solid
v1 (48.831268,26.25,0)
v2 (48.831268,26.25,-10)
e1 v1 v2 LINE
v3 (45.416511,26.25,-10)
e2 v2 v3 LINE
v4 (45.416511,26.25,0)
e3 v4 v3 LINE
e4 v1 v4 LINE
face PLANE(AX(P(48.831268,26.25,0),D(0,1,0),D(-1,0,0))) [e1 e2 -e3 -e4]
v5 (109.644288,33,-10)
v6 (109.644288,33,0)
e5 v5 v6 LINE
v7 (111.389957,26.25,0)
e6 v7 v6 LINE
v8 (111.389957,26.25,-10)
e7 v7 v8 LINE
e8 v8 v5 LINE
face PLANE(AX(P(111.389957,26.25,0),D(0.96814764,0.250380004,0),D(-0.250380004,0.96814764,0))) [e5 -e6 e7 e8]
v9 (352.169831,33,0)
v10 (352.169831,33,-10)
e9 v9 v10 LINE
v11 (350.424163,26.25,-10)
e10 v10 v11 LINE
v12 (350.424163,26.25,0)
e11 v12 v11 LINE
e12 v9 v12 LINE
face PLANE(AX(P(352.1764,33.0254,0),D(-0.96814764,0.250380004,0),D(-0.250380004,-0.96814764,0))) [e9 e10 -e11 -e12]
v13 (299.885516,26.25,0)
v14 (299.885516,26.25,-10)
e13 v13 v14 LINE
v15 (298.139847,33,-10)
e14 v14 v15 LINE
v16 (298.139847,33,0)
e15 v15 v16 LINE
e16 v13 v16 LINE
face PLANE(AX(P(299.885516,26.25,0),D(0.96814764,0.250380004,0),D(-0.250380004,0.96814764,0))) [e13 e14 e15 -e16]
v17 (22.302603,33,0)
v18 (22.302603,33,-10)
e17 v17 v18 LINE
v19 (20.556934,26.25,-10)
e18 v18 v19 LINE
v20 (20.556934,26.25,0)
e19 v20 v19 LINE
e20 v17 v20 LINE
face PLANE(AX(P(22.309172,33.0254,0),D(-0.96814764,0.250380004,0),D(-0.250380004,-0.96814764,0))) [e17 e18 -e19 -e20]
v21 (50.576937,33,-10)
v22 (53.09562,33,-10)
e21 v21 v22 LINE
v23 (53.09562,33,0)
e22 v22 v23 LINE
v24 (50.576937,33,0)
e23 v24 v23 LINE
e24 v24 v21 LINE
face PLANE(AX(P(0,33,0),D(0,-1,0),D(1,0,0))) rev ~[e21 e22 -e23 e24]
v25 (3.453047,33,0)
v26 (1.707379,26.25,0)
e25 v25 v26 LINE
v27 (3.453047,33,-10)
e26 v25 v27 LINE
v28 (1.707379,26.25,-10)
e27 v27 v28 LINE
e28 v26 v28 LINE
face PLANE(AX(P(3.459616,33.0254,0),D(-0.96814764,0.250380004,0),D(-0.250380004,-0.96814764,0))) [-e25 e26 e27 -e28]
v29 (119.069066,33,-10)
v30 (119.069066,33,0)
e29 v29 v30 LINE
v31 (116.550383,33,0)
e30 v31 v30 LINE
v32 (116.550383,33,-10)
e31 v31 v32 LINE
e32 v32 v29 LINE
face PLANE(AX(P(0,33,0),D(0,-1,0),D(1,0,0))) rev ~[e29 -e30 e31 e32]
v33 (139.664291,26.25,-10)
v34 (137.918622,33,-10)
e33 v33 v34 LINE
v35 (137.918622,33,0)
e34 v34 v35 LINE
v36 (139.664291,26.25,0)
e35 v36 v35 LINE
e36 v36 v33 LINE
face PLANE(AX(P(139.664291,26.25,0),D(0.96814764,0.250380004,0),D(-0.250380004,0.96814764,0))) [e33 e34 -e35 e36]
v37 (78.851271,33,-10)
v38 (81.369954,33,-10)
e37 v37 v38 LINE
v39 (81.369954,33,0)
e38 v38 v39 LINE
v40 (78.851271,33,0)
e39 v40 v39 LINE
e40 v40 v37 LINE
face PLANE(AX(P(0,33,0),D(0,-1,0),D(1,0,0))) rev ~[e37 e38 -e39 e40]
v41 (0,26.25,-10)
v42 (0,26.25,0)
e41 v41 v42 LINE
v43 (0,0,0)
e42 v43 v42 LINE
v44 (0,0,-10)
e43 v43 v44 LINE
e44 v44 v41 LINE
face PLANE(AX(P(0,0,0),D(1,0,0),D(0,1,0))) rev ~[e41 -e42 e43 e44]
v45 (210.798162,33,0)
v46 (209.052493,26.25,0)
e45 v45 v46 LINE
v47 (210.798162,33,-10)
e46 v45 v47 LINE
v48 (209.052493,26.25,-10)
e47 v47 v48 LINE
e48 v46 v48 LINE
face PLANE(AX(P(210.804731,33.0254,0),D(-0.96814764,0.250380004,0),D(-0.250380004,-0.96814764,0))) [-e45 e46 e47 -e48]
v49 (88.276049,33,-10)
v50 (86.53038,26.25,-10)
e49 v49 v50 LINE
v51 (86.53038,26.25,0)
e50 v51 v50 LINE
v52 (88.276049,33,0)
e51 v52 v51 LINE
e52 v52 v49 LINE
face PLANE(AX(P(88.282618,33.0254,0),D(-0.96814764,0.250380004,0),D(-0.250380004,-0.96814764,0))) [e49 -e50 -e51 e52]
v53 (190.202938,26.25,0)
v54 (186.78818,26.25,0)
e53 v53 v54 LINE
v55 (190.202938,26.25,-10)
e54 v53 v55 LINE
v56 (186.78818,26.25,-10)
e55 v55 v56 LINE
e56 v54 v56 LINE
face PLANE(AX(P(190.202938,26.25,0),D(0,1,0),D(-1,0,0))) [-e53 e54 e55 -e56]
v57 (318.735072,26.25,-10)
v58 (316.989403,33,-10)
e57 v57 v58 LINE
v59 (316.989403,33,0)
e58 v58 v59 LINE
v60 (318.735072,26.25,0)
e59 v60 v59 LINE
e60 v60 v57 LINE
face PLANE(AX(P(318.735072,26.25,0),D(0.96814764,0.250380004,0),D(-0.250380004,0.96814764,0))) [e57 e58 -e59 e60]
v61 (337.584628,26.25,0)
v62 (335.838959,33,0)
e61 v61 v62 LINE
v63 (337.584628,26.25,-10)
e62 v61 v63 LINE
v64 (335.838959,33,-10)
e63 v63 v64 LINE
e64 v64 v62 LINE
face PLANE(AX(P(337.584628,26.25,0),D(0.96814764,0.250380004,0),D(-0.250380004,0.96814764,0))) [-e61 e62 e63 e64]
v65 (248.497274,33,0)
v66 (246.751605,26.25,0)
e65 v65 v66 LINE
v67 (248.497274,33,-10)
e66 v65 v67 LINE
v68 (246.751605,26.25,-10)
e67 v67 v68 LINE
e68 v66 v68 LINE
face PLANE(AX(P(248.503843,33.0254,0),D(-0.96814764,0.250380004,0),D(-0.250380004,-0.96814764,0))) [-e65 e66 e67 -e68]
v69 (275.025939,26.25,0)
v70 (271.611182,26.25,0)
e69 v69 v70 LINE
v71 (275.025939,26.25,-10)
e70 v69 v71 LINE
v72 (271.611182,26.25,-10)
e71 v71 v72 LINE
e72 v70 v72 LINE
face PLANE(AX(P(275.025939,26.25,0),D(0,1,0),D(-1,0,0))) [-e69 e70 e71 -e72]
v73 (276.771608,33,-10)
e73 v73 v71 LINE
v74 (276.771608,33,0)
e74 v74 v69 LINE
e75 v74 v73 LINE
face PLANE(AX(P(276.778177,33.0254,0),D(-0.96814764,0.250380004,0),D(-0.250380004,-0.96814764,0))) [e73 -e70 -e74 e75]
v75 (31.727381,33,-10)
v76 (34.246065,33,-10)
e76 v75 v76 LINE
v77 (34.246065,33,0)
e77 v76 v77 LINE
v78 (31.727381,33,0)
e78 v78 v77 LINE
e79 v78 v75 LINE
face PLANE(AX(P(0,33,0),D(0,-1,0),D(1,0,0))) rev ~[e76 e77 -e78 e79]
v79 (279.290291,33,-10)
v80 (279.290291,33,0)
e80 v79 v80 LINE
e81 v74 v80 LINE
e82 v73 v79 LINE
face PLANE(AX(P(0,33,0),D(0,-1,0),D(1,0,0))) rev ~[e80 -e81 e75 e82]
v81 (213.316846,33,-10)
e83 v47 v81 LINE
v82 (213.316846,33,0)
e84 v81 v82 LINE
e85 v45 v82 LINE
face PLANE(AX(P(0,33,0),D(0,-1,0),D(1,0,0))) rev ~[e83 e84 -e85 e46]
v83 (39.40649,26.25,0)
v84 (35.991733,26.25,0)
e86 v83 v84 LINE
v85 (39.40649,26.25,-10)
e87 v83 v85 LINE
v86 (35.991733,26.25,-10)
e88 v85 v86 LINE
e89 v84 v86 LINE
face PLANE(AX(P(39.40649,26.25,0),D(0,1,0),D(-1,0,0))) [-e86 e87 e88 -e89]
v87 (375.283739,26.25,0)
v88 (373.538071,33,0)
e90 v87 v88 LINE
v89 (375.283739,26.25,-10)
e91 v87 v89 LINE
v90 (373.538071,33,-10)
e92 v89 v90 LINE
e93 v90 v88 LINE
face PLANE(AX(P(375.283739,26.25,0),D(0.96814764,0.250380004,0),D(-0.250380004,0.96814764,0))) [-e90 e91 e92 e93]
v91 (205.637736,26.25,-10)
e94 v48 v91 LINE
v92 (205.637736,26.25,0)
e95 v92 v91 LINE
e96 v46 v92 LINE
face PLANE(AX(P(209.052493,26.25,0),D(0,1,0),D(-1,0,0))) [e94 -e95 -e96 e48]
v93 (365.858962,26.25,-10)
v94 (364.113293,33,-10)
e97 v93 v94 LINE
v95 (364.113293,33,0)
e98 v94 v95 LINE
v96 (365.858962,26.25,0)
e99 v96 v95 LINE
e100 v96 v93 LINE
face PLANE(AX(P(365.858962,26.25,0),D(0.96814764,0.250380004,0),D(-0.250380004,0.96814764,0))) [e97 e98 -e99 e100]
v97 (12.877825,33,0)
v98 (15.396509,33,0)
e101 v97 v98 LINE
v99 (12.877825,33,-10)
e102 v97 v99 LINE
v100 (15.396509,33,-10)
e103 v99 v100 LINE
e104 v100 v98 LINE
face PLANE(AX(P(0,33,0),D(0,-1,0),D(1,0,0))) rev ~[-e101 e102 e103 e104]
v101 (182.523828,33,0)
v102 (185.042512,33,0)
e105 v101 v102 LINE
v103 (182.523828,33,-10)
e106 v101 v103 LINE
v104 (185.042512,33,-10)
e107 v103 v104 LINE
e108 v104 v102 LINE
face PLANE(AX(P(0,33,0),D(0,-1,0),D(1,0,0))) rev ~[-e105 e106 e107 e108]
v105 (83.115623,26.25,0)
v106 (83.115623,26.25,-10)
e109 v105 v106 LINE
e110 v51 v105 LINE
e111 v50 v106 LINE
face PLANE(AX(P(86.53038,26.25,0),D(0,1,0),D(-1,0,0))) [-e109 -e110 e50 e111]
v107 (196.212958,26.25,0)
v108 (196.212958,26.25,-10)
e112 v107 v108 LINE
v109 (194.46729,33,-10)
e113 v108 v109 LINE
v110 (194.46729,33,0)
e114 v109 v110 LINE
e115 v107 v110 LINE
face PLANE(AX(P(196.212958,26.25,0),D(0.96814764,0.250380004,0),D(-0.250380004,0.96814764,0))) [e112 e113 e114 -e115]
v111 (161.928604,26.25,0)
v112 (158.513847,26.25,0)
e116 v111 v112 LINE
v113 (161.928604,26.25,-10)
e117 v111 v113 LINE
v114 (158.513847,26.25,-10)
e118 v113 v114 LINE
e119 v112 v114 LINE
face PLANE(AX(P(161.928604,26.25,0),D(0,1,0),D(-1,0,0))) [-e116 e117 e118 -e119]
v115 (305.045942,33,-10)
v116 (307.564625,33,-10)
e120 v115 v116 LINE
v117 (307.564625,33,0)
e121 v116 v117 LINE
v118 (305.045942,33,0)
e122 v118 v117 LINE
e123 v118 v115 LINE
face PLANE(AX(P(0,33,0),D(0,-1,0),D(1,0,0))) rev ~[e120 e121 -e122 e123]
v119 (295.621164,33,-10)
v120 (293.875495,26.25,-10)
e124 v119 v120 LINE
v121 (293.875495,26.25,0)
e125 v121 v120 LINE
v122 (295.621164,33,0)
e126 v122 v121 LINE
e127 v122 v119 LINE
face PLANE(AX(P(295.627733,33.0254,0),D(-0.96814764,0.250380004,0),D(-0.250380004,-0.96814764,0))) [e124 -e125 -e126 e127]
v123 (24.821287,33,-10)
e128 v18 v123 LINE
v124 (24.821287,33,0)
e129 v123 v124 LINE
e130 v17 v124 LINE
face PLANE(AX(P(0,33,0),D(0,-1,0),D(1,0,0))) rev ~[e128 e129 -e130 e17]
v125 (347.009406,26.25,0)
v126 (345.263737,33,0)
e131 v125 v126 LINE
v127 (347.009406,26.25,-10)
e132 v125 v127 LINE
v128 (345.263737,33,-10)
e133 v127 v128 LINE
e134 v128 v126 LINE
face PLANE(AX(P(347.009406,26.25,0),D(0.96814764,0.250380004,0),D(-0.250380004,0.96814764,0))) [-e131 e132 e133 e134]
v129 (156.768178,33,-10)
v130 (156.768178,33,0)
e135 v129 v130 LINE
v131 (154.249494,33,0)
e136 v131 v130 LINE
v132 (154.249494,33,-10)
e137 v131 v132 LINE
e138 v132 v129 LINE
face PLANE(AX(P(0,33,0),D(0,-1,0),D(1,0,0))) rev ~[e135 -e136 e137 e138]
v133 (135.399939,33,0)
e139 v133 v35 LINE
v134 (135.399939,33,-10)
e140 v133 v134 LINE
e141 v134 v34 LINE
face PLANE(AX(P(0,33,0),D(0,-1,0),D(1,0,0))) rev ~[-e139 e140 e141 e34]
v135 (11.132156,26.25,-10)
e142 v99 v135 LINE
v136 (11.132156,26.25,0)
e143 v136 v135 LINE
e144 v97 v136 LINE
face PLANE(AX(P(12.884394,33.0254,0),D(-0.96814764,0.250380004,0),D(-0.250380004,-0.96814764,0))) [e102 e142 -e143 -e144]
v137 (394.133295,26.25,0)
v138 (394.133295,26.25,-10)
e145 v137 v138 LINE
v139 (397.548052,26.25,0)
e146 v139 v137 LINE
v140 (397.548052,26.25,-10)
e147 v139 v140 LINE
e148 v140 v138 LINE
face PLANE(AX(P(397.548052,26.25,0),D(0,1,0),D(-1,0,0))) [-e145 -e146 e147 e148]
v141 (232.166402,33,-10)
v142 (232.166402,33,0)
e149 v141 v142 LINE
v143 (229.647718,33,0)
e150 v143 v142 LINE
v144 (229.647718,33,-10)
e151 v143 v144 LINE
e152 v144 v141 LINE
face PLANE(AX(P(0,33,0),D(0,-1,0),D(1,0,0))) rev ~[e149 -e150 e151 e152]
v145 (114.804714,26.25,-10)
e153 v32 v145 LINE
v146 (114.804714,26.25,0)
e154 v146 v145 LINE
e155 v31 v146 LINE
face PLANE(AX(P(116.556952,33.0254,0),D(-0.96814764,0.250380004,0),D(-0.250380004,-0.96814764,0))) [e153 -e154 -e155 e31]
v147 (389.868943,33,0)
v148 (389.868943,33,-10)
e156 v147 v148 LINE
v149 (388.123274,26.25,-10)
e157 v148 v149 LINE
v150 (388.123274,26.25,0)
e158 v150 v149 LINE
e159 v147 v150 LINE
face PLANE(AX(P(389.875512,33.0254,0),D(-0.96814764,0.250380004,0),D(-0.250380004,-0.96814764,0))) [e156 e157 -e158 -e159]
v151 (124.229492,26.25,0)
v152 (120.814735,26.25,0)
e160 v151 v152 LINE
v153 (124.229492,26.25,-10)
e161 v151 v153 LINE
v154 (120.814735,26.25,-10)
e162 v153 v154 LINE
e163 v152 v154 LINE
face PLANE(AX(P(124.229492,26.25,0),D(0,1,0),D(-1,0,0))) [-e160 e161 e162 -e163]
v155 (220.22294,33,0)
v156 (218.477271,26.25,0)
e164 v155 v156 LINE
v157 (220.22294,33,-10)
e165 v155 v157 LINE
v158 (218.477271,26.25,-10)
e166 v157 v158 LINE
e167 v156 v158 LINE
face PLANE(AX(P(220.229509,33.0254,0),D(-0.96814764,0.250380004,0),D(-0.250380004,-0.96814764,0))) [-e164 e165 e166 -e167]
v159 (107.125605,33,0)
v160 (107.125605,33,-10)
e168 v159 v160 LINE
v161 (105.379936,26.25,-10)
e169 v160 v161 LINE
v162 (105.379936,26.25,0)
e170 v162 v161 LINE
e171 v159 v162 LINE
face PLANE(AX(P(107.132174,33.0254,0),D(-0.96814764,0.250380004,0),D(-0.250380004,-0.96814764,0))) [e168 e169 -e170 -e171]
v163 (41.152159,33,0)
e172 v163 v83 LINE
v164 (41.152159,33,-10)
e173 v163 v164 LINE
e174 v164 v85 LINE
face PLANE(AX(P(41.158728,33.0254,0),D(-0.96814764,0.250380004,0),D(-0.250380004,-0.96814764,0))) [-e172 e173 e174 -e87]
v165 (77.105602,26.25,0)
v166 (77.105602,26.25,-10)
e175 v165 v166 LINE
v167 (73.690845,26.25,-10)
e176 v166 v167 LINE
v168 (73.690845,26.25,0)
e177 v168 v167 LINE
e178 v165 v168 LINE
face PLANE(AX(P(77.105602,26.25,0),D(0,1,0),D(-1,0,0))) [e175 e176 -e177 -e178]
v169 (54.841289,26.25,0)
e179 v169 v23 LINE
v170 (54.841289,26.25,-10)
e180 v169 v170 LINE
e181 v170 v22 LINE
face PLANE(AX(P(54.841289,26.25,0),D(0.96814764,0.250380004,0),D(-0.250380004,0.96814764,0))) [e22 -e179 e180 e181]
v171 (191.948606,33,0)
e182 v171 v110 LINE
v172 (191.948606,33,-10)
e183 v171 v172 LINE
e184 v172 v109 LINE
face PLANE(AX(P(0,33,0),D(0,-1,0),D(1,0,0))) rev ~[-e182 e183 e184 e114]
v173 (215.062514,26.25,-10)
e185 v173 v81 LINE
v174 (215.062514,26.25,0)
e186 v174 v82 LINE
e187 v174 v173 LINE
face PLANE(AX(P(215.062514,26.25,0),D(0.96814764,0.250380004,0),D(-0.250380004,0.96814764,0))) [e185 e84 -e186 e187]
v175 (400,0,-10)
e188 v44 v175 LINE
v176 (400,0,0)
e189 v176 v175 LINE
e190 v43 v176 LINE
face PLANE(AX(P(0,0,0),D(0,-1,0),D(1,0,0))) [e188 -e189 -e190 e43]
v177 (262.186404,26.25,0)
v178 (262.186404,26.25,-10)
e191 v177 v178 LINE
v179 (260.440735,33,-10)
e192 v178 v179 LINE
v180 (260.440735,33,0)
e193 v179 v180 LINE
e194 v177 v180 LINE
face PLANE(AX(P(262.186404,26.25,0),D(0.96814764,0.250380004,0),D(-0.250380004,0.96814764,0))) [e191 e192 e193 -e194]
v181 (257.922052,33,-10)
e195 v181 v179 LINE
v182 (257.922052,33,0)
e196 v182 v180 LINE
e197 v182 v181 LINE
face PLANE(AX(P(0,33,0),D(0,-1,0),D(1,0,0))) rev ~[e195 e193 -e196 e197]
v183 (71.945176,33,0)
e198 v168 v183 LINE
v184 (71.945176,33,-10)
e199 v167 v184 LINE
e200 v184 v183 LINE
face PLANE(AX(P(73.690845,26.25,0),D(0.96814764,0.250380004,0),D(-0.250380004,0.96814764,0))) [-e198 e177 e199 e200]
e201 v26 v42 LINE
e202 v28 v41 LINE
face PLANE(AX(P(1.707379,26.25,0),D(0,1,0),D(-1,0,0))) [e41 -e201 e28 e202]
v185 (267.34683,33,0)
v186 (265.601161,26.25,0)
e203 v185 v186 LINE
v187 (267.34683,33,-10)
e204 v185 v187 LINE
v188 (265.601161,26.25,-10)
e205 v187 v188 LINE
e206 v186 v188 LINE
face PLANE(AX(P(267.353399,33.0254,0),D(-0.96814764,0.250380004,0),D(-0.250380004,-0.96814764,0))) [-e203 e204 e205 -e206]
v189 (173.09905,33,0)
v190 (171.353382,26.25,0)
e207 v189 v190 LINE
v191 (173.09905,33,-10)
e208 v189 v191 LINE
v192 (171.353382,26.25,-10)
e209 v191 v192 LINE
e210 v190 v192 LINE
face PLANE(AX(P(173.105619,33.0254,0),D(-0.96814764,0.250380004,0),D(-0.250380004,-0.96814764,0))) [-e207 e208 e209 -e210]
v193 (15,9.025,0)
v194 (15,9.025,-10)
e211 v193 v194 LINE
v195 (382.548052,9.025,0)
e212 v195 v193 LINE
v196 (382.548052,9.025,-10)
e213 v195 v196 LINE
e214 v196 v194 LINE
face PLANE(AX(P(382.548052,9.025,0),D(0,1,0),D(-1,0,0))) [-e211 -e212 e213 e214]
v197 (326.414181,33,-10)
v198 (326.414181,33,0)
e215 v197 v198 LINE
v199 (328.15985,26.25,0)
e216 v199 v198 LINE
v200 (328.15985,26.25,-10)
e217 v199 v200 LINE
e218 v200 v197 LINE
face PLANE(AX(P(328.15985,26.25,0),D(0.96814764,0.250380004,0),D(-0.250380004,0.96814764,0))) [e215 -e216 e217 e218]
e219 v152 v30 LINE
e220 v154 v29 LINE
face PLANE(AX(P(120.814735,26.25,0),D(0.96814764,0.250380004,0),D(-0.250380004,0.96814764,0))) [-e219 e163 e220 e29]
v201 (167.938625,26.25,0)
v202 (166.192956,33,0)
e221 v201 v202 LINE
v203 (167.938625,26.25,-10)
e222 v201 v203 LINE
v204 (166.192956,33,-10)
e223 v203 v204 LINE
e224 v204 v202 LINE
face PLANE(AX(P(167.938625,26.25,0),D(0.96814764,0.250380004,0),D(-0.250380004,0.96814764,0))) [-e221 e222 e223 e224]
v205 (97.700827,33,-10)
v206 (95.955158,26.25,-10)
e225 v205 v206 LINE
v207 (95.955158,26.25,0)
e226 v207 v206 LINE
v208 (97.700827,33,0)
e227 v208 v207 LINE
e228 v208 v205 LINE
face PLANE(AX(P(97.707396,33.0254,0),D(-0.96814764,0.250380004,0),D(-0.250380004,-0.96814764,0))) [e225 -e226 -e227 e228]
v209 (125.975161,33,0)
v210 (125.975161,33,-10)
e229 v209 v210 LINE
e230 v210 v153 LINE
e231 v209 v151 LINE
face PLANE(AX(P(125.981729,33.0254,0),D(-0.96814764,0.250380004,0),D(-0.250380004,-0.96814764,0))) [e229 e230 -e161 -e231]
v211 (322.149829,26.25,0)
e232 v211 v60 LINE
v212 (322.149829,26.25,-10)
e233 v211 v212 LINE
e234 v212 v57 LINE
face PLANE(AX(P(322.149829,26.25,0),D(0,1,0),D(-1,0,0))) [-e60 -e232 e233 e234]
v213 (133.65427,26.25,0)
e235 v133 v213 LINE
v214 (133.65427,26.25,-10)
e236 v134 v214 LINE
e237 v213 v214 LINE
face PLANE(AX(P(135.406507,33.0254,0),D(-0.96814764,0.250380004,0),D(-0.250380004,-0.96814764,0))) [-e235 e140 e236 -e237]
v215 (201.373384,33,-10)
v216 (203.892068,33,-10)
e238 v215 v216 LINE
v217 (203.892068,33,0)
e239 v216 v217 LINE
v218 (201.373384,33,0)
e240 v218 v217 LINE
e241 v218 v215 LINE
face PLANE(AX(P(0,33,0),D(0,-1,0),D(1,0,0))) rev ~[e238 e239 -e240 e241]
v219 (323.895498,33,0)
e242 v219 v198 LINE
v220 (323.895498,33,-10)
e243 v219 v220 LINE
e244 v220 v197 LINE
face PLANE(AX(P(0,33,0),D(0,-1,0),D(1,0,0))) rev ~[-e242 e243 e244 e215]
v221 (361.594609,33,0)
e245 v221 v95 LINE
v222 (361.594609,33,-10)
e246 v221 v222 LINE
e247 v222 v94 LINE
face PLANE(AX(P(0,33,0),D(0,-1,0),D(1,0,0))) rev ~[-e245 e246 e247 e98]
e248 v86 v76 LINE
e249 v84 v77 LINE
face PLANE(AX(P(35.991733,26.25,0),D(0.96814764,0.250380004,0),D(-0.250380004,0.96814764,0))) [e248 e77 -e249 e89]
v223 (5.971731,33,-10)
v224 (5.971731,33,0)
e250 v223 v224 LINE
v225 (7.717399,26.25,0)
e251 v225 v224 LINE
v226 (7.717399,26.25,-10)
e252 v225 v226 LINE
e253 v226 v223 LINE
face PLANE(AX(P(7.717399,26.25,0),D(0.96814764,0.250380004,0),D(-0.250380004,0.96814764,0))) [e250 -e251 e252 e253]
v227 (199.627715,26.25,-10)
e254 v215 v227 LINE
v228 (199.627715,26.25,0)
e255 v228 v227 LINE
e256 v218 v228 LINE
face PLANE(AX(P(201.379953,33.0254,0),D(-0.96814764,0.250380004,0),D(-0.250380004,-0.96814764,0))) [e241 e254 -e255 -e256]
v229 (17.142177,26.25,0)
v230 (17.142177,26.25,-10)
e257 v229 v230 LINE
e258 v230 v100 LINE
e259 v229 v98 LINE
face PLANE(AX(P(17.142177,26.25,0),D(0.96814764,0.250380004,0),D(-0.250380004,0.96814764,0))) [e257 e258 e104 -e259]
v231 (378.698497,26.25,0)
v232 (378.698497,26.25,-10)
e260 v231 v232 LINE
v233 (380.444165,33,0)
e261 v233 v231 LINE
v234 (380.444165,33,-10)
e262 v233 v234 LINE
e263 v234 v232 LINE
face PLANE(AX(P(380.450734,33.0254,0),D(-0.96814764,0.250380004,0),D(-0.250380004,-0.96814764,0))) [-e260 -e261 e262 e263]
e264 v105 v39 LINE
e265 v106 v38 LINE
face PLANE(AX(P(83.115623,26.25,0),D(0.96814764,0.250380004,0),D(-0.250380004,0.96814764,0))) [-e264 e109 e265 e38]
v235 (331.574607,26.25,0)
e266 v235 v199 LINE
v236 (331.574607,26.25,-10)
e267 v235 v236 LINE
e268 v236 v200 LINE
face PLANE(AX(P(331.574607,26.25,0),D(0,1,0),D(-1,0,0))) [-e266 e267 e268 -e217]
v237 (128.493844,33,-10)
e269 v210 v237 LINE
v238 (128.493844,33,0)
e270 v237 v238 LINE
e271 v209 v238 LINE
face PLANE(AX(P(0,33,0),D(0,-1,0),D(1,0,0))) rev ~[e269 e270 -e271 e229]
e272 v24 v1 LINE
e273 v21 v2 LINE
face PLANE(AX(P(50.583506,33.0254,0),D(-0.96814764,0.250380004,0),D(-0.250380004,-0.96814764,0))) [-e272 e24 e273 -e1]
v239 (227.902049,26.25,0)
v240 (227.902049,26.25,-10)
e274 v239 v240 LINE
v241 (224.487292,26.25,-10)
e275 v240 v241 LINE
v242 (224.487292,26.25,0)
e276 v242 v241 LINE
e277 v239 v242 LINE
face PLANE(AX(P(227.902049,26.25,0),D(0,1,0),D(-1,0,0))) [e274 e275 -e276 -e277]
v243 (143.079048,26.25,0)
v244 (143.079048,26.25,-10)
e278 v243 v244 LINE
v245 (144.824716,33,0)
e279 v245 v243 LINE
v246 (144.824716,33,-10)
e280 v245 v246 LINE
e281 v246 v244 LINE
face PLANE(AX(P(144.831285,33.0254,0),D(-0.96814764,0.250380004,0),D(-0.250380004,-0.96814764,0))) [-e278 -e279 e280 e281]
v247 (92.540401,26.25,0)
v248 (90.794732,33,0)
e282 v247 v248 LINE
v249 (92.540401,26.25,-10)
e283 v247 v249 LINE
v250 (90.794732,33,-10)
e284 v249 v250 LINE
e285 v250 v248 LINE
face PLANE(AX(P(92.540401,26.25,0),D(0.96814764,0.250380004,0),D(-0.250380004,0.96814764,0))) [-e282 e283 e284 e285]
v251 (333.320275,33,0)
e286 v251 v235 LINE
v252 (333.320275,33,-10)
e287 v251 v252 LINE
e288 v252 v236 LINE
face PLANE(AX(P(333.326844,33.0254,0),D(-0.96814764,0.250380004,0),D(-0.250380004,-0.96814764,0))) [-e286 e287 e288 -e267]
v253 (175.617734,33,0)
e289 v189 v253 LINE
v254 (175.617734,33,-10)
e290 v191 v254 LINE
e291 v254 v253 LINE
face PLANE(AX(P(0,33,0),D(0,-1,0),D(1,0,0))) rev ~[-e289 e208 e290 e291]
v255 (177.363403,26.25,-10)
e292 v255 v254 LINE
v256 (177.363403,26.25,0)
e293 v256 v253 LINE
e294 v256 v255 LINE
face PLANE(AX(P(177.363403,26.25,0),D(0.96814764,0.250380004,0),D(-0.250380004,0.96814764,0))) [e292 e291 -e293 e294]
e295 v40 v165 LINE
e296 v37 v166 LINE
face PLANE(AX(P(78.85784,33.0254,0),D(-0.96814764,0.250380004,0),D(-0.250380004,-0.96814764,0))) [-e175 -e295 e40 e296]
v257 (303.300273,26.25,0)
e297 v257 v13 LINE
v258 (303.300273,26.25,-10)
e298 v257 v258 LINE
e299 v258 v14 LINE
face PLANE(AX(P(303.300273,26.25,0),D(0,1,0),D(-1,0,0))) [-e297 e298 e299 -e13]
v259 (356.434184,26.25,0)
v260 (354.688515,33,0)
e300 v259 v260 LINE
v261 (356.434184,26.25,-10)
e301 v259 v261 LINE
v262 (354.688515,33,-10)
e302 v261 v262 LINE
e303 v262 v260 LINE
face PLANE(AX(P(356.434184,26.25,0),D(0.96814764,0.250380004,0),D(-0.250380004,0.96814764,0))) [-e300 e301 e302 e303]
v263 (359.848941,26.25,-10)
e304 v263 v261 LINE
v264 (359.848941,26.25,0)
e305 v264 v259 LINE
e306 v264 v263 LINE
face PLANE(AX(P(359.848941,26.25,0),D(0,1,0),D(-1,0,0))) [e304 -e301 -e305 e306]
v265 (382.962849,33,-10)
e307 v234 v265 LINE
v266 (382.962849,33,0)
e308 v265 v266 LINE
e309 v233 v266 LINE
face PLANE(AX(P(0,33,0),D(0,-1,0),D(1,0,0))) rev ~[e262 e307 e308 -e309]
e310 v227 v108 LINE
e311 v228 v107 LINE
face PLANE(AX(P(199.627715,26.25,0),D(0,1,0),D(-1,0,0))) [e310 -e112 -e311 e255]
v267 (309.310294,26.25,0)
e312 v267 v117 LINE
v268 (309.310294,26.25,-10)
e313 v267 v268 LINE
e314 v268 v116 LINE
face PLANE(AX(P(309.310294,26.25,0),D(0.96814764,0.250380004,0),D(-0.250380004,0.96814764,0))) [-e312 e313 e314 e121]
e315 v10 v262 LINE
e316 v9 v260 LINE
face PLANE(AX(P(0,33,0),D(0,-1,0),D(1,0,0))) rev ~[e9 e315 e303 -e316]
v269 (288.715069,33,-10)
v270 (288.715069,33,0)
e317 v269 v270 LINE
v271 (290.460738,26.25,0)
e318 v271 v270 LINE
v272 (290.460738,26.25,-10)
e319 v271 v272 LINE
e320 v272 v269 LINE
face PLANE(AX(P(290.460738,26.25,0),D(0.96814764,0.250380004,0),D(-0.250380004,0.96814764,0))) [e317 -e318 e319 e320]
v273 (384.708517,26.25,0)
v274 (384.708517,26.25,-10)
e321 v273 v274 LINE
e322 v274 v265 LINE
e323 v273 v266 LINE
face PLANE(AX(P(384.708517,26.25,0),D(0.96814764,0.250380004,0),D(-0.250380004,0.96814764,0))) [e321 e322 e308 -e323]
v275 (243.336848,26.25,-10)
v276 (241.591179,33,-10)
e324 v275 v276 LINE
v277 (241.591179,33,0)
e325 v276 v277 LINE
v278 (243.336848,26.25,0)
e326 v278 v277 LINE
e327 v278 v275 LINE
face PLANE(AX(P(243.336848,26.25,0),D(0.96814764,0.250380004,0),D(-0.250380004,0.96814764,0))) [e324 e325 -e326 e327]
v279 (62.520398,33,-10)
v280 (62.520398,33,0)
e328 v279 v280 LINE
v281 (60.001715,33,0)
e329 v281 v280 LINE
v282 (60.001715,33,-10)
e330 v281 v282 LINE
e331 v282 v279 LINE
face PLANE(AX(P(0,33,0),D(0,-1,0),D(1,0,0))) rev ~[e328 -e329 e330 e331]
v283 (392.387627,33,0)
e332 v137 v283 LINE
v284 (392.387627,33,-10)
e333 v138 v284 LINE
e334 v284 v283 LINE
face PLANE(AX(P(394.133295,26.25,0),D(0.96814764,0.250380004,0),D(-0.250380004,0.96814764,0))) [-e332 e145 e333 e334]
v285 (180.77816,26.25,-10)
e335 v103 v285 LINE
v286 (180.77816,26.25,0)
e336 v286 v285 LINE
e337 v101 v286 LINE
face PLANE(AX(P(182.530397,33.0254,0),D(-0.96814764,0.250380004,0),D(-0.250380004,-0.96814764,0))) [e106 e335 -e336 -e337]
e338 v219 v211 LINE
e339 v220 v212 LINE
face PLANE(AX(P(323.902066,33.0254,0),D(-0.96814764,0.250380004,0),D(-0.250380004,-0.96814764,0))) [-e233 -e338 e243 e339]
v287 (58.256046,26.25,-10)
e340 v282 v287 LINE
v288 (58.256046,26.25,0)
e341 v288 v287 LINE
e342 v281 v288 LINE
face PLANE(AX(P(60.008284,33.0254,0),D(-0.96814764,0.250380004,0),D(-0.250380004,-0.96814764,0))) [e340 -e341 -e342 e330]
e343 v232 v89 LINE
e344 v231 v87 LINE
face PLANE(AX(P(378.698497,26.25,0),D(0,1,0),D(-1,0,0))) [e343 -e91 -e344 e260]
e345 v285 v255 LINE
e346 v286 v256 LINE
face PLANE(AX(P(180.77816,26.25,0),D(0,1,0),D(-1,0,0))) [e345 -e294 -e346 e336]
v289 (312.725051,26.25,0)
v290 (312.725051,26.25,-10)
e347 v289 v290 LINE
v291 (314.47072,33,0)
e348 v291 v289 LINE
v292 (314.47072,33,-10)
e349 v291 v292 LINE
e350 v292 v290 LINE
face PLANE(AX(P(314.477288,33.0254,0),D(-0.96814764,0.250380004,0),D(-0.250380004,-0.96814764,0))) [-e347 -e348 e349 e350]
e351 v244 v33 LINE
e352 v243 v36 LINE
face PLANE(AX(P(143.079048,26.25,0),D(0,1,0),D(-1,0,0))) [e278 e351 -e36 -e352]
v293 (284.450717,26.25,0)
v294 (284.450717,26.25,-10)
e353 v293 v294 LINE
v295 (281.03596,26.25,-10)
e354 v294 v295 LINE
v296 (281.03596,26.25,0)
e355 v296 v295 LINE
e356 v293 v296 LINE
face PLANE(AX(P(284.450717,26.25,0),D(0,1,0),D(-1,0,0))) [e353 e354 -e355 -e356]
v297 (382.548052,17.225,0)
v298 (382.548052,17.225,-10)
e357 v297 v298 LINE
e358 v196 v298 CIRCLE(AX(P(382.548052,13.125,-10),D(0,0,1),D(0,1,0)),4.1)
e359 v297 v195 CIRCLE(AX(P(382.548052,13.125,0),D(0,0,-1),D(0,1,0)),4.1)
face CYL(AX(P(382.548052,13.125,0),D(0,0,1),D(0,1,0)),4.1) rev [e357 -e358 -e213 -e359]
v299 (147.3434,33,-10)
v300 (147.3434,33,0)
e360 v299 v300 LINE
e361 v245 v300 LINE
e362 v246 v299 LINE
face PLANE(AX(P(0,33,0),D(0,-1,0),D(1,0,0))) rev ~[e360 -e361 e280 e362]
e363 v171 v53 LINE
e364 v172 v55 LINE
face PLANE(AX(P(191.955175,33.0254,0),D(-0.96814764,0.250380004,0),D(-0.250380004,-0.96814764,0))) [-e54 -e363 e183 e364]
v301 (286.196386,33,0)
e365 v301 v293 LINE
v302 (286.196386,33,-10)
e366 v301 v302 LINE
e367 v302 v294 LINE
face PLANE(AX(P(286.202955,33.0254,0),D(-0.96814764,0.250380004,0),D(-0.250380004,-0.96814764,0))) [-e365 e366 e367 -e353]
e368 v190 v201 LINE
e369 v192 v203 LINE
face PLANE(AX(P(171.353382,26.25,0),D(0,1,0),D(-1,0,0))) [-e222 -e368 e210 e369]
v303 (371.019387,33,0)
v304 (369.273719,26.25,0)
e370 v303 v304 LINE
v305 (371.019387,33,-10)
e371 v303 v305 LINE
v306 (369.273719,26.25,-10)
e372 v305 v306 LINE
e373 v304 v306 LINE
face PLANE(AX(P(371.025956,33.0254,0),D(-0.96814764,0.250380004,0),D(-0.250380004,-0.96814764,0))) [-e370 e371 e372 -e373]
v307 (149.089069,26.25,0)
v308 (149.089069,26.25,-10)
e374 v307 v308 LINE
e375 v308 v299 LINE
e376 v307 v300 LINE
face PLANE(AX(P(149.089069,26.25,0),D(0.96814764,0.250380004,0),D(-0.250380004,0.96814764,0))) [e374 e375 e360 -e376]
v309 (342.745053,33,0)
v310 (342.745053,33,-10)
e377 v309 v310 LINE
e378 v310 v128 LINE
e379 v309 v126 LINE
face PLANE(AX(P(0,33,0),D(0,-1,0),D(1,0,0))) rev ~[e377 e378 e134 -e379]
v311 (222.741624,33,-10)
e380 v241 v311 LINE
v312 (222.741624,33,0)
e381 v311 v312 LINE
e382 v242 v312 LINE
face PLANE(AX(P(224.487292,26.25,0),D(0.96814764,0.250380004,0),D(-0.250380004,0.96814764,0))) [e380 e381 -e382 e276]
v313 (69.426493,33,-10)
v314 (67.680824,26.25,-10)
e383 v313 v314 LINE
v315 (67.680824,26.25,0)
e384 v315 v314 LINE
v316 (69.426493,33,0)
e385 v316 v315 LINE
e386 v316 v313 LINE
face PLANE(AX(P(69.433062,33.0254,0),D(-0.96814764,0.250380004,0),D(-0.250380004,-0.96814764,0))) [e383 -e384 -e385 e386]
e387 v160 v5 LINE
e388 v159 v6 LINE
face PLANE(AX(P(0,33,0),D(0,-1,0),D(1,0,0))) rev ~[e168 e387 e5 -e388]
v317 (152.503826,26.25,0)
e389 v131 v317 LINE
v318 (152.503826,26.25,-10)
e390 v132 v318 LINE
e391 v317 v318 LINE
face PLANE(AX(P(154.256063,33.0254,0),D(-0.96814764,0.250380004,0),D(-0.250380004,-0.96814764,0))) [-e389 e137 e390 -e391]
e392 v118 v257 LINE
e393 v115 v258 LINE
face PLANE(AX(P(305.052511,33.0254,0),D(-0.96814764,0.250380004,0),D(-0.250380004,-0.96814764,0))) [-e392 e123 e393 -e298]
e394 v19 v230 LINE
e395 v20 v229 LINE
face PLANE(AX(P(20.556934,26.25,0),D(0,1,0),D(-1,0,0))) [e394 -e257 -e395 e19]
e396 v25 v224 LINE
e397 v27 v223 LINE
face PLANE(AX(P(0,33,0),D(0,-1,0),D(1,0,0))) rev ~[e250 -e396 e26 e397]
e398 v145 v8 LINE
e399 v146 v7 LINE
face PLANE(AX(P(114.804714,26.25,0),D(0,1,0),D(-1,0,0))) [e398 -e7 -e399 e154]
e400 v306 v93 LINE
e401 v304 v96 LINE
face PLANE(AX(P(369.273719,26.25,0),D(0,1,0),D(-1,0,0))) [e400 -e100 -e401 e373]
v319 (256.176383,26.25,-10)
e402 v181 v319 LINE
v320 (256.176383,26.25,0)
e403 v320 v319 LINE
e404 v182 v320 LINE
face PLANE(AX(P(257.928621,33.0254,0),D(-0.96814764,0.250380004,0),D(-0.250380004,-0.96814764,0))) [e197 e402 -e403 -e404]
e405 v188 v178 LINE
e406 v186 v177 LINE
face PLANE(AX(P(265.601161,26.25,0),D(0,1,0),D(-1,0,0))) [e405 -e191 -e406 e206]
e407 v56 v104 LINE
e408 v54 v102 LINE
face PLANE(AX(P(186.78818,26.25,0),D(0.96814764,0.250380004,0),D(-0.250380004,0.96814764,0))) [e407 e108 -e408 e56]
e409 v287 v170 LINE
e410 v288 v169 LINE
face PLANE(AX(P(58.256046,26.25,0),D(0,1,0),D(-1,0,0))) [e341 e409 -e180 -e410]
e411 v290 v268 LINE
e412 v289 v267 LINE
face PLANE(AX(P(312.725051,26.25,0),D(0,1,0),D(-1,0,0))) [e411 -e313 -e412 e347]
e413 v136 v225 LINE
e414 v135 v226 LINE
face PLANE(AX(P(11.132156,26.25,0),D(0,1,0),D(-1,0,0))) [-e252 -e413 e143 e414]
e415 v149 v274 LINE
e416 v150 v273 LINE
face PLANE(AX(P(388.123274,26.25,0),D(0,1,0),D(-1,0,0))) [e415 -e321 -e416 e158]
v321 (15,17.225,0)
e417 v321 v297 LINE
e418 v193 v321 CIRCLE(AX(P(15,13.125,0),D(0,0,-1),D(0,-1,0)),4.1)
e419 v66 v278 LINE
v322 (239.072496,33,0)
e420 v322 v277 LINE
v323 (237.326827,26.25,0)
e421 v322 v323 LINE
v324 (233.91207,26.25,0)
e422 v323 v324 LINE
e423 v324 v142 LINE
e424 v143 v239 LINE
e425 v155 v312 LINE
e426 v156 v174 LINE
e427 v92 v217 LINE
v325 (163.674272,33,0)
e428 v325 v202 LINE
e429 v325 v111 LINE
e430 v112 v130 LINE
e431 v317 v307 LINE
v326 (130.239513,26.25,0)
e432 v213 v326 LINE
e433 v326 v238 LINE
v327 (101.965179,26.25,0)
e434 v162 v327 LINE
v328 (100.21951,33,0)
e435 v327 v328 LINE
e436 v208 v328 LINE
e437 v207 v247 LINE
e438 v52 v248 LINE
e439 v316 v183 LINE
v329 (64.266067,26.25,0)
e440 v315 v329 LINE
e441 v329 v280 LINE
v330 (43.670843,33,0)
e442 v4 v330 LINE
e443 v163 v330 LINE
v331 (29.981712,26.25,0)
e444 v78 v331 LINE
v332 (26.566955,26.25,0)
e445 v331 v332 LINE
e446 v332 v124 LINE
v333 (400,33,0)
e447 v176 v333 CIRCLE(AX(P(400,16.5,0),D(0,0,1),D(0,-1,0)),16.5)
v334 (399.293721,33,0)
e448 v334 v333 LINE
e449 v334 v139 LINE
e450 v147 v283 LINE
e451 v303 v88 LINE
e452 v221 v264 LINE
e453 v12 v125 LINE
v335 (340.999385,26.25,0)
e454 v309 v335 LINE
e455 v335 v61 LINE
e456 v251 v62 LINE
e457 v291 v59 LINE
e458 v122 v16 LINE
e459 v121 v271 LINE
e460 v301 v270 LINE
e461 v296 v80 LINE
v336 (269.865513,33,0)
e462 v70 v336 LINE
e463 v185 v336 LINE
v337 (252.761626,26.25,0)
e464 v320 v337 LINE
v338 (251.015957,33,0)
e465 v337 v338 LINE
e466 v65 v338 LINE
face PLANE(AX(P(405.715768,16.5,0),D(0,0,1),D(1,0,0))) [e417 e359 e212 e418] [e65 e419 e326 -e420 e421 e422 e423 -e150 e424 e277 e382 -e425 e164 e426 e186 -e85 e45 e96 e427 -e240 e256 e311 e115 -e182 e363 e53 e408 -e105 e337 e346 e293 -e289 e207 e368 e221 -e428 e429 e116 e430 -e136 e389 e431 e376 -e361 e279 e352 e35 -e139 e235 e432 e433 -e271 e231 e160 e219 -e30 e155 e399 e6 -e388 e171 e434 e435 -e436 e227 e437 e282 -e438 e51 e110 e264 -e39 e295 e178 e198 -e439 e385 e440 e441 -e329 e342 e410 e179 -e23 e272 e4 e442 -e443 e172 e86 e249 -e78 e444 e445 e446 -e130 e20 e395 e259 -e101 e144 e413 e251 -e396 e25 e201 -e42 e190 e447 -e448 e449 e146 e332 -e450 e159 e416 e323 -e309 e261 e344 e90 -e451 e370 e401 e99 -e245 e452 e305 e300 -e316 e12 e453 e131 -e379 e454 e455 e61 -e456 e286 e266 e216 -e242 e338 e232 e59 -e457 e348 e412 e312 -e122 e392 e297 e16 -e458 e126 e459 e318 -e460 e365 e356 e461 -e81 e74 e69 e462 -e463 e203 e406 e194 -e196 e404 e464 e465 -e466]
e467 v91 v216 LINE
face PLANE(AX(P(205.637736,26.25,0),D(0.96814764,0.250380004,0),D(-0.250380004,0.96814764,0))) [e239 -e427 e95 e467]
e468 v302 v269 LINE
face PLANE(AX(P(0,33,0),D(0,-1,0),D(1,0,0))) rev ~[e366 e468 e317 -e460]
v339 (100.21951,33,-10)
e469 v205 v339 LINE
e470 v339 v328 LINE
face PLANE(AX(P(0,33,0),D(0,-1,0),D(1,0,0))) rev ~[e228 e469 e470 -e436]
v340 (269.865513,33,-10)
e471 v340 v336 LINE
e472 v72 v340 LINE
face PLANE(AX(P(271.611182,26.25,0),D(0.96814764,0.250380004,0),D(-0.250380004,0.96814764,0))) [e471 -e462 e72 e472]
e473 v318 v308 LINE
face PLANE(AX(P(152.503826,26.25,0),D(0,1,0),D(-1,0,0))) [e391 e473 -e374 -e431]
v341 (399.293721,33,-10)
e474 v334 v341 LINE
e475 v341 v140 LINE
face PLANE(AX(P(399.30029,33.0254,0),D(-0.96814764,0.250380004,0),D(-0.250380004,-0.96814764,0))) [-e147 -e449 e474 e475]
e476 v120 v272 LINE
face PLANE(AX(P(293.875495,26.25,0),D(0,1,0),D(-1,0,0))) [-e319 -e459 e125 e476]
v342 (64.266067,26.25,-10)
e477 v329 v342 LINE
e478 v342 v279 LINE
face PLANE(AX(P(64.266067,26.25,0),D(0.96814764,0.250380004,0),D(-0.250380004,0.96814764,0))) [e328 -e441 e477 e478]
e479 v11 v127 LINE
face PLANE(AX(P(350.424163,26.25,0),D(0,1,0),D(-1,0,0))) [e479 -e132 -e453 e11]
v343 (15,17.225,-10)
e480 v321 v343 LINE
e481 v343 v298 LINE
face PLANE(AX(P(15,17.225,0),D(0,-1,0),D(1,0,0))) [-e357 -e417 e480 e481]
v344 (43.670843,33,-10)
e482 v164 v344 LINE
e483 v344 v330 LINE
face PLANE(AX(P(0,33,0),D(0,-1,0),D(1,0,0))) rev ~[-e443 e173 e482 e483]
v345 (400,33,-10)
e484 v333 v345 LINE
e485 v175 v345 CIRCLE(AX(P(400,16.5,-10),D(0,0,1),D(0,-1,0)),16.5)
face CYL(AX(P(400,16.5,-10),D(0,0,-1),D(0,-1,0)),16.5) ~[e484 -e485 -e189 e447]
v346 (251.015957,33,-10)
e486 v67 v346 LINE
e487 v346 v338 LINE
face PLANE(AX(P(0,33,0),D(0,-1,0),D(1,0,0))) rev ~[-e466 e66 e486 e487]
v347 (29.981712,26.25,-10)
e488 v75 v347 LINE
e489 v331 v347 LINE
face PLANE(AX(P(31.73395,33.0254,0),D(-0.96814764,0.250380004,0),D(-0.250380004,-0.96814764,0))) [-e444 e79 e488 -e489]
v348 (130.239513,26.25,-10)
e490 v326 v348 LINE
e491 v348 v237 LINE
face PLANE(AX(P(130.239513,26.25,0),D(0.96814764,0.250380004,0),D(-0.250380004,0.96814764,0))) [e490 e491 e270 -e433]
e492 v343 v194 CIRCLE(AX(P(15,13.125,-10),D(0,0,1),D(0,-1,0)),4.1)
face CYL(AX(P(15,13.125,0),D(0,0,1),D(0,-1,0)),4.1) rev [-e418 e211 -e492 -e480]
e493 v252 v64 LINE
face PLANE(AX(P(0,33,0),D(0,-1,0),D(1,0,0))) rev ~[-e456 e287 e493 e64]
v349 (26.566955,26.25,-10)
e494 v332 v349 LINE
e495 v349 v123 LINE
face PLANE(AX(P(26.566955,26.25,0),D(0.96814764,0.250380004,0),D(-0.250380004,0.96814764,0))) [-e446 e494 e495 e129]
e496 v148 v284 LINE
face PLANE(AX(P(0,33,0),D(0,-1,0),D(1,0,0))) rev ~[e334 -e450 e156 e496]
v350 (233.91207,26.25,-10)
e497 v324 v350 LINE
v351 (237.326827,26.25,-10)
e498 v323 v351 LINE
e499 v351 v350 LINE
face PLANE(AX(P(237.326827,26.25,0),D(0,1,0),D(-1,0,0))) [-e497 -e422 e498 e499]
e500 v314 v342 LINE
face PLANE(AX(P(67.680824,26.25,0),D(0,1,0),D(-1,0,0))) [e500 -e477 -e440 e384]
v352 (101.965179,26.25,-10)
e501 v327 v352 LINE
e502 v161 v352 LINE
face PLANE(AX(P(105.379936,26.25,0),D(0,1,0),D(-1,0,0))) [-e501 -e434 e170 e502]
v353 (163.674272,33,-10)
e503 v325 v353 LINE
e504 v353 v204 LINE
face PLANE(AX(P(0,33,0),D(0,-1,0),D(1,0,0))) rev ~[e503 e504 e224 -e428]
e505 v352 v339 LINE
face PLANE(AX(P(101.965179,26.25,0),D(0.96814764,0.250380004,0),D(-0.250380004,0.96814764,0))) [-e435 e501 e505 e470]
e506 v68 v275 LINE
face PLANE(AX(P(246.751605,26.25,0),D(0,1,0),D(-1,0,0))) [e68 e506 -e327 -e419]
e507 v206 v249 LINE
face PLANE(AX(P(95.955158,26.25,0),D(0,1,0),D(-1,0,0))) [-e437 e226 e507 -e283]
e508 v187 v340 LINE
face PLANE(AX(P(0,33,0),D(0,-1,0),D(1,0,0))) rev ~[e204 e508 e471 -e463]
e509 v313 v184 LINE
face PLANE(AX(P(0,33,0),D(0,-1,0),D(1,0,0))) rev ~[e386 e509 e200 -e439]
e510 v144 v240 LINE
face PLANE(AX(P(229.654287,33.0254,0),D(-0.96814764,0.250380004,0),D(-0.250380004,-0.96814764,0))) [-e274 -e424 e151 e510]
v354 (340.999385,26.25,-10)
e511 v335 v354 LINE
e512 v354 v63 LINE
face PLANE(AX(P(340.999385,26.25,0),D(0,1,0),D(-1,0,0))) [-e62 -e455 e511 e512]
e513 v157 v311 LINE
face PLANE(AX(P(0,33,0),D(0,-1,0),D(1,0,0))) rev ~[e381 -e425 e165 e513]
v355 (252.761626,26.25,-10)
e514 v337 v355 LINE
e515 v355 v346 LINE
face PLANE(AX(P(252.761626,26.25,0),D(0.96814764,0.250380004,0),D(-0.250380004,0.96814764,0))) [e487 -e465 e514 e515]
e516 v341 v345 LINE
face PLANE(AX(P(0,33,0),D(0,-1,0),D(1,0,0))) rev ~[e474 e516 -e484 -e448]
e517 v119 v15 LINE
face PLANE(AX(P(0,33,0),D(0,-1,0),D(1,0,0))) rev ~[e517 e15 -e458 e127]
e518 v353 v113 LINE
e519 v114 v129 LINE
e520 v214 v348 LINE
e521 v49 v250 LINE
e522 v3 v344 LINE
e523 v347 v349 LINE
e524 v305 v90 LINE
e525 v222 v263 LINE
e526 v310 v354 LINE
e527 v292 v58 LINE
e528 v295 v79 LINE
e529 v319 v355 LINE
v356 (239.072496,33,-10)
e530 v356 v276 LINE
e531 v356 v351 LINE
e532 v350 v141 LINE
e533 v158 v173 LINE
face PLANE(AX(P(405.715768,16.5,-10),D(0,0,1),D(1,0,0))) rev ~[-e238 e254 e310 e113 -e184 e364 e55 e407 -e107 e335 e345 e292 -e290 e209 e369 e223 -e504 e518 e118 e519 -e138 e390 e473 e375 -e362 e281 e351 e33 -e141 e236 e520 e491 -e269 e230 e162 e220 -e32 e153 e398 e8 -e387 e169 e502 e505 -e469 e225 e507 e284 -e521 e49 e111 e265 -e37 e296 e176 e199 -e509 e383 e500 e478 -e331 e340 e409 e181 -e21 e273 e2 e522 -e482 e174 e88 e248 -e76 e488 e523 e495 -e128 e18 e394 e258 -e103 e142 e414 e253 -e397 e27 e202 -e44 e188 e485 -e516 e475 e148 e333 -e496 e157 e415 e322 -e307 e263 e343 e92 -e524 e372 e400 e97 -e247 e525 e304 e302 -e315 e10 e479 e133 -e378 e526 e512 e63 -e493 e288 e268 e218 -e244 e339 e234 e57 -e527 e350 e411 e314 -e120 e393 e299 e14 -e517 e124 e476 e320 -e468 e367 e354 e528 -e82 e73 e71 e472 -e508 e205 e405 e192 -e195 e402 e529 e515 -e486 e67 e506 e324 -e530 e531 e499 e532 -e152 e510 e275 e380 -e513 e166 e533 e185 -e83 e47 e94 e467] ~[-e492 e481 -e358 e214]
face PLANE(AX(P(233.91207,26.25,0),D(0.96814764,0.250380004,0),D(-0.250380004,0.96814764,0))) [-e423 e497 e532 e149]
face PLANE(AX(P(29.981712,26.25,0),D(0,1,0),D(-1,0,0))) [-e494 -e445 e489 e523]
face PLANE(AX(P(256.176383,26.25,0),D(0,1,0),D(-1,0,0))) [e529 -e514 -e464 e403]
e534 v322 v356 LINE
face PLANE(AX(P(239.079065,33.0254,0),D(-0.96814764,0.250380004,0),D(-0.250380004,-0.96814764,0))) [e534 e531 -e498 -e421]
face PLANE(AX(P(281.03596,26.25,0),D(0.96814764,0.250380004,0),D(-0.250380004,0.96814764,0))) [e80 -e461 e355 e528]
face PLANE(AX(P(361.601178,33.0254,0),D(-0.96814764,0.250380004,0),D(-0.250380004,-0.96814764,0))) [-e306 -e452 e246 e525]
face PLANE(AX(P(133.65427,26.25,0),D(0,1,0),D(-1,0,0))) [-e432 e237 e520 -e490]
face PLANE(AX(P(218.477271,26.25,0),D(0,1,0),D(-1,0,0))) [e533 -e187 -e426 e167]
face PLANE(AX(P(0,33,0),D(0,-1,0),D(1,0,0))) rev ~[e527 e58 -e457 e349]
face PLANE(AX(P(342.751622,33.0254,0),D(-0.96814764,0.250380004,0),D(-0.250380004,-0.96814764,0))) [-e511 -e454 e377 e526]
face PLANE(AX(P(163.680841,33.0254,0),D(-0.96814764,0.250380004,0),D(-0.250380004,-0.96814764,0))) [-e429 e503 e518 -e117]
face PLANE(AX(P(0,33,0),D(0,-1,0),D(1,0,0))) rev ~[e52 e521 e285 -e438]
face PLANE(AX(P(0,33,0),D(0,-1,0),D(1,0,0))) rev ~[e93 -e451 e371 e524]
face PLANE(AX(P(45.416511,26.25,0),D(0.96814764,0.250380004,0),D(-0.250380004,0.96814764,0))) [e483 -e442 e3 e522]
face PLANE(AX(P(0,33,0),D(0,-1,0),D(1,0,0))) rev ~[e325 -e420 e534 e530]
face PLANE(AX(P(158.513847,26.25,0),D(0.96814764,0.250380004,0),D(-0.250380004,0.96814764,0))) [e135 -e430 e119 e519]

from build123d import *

# Parameters (mm, degrees)
BLANKSKE_W          = 400
BLANKSKE_H          = 33
BLANK_DEPTH         = 10
TOOTHCUTSIM_DEPTH   = 402.483499038
TEETHCUTS_COUNT     = 43
TEETHCUTS_PITCH     = 9.42477795
CUT_EXTRUDE1_DEPTH  = 402.483499038
BOSS_EXTRUDE1_DEPTH = 10


with BuildPart() as part:
    # BlankSke → Blank (new body)
    with BuildSketch(Plane.XY):
        with Locations((200, 16.5)):
            Rectangle(BLANKSKE_W, BLANKSKE_H)
    extrude(amount=-BLANK_DEPTH)

    # TooCutSkeSim → ToothCutSim (cut, through all)
    with BuildSketch(Plane.XY):
        Polygon((1.707378546, 26.25), (-1.707378546, 26.25), (-3.459616127, 33.0254), (3.459616127, 33.0254), align=None)
    toothcutsim = extrude(amount=-TOOTHCUTSIM_DEPTH, mode=Mode.SUBTRACT)

    # TeethCuts: ToothCutSim ×43
    with Locations(*[(i * TEETHCUTS_PITCH, 0, 0) for i in range(1, TEETHCUTS_COUNT)]):
        add(toothcutsim, mode=Mode.SUBTRACT)

    # Sketch1 → Cut-Extrude1 (cut, through all)
    with BuildSketch(Plane.XY):
        with BuildLine():
            Line((15, 17.225), (382.548052446, 17.225))
            ThreePointArc((382.548052446, 17.225), (386.648052446, 13.125), (382.548052446, 9.025))
            Line((382.548052446, 9.025), (15, 9.025))
            ThreePointArc((15, 9.025), (10.9, 13.125), (15, 17.225))
        make_face()
    extrude(amount=-CUT_EXTRUDE1_DEPTH, mode=Mode.SUBTRACT)

    # Sketch2 → Boss-Extrude1 (add)
    with BuildSketch(Plane(origin=(0, 0, -10), x_dir=(-1, 0, 0), z_dir=(0, 0, -1))):
        with BuildLine():
            Line((-400, 33), (-400, 0))
            ThreePointArc((-400, 0), (-416.5, 16.5), (-400, 33))
        make_face()
    extrude(amount=-BOSS_EXTRUDE1_DEPTH)


solid = part.part
